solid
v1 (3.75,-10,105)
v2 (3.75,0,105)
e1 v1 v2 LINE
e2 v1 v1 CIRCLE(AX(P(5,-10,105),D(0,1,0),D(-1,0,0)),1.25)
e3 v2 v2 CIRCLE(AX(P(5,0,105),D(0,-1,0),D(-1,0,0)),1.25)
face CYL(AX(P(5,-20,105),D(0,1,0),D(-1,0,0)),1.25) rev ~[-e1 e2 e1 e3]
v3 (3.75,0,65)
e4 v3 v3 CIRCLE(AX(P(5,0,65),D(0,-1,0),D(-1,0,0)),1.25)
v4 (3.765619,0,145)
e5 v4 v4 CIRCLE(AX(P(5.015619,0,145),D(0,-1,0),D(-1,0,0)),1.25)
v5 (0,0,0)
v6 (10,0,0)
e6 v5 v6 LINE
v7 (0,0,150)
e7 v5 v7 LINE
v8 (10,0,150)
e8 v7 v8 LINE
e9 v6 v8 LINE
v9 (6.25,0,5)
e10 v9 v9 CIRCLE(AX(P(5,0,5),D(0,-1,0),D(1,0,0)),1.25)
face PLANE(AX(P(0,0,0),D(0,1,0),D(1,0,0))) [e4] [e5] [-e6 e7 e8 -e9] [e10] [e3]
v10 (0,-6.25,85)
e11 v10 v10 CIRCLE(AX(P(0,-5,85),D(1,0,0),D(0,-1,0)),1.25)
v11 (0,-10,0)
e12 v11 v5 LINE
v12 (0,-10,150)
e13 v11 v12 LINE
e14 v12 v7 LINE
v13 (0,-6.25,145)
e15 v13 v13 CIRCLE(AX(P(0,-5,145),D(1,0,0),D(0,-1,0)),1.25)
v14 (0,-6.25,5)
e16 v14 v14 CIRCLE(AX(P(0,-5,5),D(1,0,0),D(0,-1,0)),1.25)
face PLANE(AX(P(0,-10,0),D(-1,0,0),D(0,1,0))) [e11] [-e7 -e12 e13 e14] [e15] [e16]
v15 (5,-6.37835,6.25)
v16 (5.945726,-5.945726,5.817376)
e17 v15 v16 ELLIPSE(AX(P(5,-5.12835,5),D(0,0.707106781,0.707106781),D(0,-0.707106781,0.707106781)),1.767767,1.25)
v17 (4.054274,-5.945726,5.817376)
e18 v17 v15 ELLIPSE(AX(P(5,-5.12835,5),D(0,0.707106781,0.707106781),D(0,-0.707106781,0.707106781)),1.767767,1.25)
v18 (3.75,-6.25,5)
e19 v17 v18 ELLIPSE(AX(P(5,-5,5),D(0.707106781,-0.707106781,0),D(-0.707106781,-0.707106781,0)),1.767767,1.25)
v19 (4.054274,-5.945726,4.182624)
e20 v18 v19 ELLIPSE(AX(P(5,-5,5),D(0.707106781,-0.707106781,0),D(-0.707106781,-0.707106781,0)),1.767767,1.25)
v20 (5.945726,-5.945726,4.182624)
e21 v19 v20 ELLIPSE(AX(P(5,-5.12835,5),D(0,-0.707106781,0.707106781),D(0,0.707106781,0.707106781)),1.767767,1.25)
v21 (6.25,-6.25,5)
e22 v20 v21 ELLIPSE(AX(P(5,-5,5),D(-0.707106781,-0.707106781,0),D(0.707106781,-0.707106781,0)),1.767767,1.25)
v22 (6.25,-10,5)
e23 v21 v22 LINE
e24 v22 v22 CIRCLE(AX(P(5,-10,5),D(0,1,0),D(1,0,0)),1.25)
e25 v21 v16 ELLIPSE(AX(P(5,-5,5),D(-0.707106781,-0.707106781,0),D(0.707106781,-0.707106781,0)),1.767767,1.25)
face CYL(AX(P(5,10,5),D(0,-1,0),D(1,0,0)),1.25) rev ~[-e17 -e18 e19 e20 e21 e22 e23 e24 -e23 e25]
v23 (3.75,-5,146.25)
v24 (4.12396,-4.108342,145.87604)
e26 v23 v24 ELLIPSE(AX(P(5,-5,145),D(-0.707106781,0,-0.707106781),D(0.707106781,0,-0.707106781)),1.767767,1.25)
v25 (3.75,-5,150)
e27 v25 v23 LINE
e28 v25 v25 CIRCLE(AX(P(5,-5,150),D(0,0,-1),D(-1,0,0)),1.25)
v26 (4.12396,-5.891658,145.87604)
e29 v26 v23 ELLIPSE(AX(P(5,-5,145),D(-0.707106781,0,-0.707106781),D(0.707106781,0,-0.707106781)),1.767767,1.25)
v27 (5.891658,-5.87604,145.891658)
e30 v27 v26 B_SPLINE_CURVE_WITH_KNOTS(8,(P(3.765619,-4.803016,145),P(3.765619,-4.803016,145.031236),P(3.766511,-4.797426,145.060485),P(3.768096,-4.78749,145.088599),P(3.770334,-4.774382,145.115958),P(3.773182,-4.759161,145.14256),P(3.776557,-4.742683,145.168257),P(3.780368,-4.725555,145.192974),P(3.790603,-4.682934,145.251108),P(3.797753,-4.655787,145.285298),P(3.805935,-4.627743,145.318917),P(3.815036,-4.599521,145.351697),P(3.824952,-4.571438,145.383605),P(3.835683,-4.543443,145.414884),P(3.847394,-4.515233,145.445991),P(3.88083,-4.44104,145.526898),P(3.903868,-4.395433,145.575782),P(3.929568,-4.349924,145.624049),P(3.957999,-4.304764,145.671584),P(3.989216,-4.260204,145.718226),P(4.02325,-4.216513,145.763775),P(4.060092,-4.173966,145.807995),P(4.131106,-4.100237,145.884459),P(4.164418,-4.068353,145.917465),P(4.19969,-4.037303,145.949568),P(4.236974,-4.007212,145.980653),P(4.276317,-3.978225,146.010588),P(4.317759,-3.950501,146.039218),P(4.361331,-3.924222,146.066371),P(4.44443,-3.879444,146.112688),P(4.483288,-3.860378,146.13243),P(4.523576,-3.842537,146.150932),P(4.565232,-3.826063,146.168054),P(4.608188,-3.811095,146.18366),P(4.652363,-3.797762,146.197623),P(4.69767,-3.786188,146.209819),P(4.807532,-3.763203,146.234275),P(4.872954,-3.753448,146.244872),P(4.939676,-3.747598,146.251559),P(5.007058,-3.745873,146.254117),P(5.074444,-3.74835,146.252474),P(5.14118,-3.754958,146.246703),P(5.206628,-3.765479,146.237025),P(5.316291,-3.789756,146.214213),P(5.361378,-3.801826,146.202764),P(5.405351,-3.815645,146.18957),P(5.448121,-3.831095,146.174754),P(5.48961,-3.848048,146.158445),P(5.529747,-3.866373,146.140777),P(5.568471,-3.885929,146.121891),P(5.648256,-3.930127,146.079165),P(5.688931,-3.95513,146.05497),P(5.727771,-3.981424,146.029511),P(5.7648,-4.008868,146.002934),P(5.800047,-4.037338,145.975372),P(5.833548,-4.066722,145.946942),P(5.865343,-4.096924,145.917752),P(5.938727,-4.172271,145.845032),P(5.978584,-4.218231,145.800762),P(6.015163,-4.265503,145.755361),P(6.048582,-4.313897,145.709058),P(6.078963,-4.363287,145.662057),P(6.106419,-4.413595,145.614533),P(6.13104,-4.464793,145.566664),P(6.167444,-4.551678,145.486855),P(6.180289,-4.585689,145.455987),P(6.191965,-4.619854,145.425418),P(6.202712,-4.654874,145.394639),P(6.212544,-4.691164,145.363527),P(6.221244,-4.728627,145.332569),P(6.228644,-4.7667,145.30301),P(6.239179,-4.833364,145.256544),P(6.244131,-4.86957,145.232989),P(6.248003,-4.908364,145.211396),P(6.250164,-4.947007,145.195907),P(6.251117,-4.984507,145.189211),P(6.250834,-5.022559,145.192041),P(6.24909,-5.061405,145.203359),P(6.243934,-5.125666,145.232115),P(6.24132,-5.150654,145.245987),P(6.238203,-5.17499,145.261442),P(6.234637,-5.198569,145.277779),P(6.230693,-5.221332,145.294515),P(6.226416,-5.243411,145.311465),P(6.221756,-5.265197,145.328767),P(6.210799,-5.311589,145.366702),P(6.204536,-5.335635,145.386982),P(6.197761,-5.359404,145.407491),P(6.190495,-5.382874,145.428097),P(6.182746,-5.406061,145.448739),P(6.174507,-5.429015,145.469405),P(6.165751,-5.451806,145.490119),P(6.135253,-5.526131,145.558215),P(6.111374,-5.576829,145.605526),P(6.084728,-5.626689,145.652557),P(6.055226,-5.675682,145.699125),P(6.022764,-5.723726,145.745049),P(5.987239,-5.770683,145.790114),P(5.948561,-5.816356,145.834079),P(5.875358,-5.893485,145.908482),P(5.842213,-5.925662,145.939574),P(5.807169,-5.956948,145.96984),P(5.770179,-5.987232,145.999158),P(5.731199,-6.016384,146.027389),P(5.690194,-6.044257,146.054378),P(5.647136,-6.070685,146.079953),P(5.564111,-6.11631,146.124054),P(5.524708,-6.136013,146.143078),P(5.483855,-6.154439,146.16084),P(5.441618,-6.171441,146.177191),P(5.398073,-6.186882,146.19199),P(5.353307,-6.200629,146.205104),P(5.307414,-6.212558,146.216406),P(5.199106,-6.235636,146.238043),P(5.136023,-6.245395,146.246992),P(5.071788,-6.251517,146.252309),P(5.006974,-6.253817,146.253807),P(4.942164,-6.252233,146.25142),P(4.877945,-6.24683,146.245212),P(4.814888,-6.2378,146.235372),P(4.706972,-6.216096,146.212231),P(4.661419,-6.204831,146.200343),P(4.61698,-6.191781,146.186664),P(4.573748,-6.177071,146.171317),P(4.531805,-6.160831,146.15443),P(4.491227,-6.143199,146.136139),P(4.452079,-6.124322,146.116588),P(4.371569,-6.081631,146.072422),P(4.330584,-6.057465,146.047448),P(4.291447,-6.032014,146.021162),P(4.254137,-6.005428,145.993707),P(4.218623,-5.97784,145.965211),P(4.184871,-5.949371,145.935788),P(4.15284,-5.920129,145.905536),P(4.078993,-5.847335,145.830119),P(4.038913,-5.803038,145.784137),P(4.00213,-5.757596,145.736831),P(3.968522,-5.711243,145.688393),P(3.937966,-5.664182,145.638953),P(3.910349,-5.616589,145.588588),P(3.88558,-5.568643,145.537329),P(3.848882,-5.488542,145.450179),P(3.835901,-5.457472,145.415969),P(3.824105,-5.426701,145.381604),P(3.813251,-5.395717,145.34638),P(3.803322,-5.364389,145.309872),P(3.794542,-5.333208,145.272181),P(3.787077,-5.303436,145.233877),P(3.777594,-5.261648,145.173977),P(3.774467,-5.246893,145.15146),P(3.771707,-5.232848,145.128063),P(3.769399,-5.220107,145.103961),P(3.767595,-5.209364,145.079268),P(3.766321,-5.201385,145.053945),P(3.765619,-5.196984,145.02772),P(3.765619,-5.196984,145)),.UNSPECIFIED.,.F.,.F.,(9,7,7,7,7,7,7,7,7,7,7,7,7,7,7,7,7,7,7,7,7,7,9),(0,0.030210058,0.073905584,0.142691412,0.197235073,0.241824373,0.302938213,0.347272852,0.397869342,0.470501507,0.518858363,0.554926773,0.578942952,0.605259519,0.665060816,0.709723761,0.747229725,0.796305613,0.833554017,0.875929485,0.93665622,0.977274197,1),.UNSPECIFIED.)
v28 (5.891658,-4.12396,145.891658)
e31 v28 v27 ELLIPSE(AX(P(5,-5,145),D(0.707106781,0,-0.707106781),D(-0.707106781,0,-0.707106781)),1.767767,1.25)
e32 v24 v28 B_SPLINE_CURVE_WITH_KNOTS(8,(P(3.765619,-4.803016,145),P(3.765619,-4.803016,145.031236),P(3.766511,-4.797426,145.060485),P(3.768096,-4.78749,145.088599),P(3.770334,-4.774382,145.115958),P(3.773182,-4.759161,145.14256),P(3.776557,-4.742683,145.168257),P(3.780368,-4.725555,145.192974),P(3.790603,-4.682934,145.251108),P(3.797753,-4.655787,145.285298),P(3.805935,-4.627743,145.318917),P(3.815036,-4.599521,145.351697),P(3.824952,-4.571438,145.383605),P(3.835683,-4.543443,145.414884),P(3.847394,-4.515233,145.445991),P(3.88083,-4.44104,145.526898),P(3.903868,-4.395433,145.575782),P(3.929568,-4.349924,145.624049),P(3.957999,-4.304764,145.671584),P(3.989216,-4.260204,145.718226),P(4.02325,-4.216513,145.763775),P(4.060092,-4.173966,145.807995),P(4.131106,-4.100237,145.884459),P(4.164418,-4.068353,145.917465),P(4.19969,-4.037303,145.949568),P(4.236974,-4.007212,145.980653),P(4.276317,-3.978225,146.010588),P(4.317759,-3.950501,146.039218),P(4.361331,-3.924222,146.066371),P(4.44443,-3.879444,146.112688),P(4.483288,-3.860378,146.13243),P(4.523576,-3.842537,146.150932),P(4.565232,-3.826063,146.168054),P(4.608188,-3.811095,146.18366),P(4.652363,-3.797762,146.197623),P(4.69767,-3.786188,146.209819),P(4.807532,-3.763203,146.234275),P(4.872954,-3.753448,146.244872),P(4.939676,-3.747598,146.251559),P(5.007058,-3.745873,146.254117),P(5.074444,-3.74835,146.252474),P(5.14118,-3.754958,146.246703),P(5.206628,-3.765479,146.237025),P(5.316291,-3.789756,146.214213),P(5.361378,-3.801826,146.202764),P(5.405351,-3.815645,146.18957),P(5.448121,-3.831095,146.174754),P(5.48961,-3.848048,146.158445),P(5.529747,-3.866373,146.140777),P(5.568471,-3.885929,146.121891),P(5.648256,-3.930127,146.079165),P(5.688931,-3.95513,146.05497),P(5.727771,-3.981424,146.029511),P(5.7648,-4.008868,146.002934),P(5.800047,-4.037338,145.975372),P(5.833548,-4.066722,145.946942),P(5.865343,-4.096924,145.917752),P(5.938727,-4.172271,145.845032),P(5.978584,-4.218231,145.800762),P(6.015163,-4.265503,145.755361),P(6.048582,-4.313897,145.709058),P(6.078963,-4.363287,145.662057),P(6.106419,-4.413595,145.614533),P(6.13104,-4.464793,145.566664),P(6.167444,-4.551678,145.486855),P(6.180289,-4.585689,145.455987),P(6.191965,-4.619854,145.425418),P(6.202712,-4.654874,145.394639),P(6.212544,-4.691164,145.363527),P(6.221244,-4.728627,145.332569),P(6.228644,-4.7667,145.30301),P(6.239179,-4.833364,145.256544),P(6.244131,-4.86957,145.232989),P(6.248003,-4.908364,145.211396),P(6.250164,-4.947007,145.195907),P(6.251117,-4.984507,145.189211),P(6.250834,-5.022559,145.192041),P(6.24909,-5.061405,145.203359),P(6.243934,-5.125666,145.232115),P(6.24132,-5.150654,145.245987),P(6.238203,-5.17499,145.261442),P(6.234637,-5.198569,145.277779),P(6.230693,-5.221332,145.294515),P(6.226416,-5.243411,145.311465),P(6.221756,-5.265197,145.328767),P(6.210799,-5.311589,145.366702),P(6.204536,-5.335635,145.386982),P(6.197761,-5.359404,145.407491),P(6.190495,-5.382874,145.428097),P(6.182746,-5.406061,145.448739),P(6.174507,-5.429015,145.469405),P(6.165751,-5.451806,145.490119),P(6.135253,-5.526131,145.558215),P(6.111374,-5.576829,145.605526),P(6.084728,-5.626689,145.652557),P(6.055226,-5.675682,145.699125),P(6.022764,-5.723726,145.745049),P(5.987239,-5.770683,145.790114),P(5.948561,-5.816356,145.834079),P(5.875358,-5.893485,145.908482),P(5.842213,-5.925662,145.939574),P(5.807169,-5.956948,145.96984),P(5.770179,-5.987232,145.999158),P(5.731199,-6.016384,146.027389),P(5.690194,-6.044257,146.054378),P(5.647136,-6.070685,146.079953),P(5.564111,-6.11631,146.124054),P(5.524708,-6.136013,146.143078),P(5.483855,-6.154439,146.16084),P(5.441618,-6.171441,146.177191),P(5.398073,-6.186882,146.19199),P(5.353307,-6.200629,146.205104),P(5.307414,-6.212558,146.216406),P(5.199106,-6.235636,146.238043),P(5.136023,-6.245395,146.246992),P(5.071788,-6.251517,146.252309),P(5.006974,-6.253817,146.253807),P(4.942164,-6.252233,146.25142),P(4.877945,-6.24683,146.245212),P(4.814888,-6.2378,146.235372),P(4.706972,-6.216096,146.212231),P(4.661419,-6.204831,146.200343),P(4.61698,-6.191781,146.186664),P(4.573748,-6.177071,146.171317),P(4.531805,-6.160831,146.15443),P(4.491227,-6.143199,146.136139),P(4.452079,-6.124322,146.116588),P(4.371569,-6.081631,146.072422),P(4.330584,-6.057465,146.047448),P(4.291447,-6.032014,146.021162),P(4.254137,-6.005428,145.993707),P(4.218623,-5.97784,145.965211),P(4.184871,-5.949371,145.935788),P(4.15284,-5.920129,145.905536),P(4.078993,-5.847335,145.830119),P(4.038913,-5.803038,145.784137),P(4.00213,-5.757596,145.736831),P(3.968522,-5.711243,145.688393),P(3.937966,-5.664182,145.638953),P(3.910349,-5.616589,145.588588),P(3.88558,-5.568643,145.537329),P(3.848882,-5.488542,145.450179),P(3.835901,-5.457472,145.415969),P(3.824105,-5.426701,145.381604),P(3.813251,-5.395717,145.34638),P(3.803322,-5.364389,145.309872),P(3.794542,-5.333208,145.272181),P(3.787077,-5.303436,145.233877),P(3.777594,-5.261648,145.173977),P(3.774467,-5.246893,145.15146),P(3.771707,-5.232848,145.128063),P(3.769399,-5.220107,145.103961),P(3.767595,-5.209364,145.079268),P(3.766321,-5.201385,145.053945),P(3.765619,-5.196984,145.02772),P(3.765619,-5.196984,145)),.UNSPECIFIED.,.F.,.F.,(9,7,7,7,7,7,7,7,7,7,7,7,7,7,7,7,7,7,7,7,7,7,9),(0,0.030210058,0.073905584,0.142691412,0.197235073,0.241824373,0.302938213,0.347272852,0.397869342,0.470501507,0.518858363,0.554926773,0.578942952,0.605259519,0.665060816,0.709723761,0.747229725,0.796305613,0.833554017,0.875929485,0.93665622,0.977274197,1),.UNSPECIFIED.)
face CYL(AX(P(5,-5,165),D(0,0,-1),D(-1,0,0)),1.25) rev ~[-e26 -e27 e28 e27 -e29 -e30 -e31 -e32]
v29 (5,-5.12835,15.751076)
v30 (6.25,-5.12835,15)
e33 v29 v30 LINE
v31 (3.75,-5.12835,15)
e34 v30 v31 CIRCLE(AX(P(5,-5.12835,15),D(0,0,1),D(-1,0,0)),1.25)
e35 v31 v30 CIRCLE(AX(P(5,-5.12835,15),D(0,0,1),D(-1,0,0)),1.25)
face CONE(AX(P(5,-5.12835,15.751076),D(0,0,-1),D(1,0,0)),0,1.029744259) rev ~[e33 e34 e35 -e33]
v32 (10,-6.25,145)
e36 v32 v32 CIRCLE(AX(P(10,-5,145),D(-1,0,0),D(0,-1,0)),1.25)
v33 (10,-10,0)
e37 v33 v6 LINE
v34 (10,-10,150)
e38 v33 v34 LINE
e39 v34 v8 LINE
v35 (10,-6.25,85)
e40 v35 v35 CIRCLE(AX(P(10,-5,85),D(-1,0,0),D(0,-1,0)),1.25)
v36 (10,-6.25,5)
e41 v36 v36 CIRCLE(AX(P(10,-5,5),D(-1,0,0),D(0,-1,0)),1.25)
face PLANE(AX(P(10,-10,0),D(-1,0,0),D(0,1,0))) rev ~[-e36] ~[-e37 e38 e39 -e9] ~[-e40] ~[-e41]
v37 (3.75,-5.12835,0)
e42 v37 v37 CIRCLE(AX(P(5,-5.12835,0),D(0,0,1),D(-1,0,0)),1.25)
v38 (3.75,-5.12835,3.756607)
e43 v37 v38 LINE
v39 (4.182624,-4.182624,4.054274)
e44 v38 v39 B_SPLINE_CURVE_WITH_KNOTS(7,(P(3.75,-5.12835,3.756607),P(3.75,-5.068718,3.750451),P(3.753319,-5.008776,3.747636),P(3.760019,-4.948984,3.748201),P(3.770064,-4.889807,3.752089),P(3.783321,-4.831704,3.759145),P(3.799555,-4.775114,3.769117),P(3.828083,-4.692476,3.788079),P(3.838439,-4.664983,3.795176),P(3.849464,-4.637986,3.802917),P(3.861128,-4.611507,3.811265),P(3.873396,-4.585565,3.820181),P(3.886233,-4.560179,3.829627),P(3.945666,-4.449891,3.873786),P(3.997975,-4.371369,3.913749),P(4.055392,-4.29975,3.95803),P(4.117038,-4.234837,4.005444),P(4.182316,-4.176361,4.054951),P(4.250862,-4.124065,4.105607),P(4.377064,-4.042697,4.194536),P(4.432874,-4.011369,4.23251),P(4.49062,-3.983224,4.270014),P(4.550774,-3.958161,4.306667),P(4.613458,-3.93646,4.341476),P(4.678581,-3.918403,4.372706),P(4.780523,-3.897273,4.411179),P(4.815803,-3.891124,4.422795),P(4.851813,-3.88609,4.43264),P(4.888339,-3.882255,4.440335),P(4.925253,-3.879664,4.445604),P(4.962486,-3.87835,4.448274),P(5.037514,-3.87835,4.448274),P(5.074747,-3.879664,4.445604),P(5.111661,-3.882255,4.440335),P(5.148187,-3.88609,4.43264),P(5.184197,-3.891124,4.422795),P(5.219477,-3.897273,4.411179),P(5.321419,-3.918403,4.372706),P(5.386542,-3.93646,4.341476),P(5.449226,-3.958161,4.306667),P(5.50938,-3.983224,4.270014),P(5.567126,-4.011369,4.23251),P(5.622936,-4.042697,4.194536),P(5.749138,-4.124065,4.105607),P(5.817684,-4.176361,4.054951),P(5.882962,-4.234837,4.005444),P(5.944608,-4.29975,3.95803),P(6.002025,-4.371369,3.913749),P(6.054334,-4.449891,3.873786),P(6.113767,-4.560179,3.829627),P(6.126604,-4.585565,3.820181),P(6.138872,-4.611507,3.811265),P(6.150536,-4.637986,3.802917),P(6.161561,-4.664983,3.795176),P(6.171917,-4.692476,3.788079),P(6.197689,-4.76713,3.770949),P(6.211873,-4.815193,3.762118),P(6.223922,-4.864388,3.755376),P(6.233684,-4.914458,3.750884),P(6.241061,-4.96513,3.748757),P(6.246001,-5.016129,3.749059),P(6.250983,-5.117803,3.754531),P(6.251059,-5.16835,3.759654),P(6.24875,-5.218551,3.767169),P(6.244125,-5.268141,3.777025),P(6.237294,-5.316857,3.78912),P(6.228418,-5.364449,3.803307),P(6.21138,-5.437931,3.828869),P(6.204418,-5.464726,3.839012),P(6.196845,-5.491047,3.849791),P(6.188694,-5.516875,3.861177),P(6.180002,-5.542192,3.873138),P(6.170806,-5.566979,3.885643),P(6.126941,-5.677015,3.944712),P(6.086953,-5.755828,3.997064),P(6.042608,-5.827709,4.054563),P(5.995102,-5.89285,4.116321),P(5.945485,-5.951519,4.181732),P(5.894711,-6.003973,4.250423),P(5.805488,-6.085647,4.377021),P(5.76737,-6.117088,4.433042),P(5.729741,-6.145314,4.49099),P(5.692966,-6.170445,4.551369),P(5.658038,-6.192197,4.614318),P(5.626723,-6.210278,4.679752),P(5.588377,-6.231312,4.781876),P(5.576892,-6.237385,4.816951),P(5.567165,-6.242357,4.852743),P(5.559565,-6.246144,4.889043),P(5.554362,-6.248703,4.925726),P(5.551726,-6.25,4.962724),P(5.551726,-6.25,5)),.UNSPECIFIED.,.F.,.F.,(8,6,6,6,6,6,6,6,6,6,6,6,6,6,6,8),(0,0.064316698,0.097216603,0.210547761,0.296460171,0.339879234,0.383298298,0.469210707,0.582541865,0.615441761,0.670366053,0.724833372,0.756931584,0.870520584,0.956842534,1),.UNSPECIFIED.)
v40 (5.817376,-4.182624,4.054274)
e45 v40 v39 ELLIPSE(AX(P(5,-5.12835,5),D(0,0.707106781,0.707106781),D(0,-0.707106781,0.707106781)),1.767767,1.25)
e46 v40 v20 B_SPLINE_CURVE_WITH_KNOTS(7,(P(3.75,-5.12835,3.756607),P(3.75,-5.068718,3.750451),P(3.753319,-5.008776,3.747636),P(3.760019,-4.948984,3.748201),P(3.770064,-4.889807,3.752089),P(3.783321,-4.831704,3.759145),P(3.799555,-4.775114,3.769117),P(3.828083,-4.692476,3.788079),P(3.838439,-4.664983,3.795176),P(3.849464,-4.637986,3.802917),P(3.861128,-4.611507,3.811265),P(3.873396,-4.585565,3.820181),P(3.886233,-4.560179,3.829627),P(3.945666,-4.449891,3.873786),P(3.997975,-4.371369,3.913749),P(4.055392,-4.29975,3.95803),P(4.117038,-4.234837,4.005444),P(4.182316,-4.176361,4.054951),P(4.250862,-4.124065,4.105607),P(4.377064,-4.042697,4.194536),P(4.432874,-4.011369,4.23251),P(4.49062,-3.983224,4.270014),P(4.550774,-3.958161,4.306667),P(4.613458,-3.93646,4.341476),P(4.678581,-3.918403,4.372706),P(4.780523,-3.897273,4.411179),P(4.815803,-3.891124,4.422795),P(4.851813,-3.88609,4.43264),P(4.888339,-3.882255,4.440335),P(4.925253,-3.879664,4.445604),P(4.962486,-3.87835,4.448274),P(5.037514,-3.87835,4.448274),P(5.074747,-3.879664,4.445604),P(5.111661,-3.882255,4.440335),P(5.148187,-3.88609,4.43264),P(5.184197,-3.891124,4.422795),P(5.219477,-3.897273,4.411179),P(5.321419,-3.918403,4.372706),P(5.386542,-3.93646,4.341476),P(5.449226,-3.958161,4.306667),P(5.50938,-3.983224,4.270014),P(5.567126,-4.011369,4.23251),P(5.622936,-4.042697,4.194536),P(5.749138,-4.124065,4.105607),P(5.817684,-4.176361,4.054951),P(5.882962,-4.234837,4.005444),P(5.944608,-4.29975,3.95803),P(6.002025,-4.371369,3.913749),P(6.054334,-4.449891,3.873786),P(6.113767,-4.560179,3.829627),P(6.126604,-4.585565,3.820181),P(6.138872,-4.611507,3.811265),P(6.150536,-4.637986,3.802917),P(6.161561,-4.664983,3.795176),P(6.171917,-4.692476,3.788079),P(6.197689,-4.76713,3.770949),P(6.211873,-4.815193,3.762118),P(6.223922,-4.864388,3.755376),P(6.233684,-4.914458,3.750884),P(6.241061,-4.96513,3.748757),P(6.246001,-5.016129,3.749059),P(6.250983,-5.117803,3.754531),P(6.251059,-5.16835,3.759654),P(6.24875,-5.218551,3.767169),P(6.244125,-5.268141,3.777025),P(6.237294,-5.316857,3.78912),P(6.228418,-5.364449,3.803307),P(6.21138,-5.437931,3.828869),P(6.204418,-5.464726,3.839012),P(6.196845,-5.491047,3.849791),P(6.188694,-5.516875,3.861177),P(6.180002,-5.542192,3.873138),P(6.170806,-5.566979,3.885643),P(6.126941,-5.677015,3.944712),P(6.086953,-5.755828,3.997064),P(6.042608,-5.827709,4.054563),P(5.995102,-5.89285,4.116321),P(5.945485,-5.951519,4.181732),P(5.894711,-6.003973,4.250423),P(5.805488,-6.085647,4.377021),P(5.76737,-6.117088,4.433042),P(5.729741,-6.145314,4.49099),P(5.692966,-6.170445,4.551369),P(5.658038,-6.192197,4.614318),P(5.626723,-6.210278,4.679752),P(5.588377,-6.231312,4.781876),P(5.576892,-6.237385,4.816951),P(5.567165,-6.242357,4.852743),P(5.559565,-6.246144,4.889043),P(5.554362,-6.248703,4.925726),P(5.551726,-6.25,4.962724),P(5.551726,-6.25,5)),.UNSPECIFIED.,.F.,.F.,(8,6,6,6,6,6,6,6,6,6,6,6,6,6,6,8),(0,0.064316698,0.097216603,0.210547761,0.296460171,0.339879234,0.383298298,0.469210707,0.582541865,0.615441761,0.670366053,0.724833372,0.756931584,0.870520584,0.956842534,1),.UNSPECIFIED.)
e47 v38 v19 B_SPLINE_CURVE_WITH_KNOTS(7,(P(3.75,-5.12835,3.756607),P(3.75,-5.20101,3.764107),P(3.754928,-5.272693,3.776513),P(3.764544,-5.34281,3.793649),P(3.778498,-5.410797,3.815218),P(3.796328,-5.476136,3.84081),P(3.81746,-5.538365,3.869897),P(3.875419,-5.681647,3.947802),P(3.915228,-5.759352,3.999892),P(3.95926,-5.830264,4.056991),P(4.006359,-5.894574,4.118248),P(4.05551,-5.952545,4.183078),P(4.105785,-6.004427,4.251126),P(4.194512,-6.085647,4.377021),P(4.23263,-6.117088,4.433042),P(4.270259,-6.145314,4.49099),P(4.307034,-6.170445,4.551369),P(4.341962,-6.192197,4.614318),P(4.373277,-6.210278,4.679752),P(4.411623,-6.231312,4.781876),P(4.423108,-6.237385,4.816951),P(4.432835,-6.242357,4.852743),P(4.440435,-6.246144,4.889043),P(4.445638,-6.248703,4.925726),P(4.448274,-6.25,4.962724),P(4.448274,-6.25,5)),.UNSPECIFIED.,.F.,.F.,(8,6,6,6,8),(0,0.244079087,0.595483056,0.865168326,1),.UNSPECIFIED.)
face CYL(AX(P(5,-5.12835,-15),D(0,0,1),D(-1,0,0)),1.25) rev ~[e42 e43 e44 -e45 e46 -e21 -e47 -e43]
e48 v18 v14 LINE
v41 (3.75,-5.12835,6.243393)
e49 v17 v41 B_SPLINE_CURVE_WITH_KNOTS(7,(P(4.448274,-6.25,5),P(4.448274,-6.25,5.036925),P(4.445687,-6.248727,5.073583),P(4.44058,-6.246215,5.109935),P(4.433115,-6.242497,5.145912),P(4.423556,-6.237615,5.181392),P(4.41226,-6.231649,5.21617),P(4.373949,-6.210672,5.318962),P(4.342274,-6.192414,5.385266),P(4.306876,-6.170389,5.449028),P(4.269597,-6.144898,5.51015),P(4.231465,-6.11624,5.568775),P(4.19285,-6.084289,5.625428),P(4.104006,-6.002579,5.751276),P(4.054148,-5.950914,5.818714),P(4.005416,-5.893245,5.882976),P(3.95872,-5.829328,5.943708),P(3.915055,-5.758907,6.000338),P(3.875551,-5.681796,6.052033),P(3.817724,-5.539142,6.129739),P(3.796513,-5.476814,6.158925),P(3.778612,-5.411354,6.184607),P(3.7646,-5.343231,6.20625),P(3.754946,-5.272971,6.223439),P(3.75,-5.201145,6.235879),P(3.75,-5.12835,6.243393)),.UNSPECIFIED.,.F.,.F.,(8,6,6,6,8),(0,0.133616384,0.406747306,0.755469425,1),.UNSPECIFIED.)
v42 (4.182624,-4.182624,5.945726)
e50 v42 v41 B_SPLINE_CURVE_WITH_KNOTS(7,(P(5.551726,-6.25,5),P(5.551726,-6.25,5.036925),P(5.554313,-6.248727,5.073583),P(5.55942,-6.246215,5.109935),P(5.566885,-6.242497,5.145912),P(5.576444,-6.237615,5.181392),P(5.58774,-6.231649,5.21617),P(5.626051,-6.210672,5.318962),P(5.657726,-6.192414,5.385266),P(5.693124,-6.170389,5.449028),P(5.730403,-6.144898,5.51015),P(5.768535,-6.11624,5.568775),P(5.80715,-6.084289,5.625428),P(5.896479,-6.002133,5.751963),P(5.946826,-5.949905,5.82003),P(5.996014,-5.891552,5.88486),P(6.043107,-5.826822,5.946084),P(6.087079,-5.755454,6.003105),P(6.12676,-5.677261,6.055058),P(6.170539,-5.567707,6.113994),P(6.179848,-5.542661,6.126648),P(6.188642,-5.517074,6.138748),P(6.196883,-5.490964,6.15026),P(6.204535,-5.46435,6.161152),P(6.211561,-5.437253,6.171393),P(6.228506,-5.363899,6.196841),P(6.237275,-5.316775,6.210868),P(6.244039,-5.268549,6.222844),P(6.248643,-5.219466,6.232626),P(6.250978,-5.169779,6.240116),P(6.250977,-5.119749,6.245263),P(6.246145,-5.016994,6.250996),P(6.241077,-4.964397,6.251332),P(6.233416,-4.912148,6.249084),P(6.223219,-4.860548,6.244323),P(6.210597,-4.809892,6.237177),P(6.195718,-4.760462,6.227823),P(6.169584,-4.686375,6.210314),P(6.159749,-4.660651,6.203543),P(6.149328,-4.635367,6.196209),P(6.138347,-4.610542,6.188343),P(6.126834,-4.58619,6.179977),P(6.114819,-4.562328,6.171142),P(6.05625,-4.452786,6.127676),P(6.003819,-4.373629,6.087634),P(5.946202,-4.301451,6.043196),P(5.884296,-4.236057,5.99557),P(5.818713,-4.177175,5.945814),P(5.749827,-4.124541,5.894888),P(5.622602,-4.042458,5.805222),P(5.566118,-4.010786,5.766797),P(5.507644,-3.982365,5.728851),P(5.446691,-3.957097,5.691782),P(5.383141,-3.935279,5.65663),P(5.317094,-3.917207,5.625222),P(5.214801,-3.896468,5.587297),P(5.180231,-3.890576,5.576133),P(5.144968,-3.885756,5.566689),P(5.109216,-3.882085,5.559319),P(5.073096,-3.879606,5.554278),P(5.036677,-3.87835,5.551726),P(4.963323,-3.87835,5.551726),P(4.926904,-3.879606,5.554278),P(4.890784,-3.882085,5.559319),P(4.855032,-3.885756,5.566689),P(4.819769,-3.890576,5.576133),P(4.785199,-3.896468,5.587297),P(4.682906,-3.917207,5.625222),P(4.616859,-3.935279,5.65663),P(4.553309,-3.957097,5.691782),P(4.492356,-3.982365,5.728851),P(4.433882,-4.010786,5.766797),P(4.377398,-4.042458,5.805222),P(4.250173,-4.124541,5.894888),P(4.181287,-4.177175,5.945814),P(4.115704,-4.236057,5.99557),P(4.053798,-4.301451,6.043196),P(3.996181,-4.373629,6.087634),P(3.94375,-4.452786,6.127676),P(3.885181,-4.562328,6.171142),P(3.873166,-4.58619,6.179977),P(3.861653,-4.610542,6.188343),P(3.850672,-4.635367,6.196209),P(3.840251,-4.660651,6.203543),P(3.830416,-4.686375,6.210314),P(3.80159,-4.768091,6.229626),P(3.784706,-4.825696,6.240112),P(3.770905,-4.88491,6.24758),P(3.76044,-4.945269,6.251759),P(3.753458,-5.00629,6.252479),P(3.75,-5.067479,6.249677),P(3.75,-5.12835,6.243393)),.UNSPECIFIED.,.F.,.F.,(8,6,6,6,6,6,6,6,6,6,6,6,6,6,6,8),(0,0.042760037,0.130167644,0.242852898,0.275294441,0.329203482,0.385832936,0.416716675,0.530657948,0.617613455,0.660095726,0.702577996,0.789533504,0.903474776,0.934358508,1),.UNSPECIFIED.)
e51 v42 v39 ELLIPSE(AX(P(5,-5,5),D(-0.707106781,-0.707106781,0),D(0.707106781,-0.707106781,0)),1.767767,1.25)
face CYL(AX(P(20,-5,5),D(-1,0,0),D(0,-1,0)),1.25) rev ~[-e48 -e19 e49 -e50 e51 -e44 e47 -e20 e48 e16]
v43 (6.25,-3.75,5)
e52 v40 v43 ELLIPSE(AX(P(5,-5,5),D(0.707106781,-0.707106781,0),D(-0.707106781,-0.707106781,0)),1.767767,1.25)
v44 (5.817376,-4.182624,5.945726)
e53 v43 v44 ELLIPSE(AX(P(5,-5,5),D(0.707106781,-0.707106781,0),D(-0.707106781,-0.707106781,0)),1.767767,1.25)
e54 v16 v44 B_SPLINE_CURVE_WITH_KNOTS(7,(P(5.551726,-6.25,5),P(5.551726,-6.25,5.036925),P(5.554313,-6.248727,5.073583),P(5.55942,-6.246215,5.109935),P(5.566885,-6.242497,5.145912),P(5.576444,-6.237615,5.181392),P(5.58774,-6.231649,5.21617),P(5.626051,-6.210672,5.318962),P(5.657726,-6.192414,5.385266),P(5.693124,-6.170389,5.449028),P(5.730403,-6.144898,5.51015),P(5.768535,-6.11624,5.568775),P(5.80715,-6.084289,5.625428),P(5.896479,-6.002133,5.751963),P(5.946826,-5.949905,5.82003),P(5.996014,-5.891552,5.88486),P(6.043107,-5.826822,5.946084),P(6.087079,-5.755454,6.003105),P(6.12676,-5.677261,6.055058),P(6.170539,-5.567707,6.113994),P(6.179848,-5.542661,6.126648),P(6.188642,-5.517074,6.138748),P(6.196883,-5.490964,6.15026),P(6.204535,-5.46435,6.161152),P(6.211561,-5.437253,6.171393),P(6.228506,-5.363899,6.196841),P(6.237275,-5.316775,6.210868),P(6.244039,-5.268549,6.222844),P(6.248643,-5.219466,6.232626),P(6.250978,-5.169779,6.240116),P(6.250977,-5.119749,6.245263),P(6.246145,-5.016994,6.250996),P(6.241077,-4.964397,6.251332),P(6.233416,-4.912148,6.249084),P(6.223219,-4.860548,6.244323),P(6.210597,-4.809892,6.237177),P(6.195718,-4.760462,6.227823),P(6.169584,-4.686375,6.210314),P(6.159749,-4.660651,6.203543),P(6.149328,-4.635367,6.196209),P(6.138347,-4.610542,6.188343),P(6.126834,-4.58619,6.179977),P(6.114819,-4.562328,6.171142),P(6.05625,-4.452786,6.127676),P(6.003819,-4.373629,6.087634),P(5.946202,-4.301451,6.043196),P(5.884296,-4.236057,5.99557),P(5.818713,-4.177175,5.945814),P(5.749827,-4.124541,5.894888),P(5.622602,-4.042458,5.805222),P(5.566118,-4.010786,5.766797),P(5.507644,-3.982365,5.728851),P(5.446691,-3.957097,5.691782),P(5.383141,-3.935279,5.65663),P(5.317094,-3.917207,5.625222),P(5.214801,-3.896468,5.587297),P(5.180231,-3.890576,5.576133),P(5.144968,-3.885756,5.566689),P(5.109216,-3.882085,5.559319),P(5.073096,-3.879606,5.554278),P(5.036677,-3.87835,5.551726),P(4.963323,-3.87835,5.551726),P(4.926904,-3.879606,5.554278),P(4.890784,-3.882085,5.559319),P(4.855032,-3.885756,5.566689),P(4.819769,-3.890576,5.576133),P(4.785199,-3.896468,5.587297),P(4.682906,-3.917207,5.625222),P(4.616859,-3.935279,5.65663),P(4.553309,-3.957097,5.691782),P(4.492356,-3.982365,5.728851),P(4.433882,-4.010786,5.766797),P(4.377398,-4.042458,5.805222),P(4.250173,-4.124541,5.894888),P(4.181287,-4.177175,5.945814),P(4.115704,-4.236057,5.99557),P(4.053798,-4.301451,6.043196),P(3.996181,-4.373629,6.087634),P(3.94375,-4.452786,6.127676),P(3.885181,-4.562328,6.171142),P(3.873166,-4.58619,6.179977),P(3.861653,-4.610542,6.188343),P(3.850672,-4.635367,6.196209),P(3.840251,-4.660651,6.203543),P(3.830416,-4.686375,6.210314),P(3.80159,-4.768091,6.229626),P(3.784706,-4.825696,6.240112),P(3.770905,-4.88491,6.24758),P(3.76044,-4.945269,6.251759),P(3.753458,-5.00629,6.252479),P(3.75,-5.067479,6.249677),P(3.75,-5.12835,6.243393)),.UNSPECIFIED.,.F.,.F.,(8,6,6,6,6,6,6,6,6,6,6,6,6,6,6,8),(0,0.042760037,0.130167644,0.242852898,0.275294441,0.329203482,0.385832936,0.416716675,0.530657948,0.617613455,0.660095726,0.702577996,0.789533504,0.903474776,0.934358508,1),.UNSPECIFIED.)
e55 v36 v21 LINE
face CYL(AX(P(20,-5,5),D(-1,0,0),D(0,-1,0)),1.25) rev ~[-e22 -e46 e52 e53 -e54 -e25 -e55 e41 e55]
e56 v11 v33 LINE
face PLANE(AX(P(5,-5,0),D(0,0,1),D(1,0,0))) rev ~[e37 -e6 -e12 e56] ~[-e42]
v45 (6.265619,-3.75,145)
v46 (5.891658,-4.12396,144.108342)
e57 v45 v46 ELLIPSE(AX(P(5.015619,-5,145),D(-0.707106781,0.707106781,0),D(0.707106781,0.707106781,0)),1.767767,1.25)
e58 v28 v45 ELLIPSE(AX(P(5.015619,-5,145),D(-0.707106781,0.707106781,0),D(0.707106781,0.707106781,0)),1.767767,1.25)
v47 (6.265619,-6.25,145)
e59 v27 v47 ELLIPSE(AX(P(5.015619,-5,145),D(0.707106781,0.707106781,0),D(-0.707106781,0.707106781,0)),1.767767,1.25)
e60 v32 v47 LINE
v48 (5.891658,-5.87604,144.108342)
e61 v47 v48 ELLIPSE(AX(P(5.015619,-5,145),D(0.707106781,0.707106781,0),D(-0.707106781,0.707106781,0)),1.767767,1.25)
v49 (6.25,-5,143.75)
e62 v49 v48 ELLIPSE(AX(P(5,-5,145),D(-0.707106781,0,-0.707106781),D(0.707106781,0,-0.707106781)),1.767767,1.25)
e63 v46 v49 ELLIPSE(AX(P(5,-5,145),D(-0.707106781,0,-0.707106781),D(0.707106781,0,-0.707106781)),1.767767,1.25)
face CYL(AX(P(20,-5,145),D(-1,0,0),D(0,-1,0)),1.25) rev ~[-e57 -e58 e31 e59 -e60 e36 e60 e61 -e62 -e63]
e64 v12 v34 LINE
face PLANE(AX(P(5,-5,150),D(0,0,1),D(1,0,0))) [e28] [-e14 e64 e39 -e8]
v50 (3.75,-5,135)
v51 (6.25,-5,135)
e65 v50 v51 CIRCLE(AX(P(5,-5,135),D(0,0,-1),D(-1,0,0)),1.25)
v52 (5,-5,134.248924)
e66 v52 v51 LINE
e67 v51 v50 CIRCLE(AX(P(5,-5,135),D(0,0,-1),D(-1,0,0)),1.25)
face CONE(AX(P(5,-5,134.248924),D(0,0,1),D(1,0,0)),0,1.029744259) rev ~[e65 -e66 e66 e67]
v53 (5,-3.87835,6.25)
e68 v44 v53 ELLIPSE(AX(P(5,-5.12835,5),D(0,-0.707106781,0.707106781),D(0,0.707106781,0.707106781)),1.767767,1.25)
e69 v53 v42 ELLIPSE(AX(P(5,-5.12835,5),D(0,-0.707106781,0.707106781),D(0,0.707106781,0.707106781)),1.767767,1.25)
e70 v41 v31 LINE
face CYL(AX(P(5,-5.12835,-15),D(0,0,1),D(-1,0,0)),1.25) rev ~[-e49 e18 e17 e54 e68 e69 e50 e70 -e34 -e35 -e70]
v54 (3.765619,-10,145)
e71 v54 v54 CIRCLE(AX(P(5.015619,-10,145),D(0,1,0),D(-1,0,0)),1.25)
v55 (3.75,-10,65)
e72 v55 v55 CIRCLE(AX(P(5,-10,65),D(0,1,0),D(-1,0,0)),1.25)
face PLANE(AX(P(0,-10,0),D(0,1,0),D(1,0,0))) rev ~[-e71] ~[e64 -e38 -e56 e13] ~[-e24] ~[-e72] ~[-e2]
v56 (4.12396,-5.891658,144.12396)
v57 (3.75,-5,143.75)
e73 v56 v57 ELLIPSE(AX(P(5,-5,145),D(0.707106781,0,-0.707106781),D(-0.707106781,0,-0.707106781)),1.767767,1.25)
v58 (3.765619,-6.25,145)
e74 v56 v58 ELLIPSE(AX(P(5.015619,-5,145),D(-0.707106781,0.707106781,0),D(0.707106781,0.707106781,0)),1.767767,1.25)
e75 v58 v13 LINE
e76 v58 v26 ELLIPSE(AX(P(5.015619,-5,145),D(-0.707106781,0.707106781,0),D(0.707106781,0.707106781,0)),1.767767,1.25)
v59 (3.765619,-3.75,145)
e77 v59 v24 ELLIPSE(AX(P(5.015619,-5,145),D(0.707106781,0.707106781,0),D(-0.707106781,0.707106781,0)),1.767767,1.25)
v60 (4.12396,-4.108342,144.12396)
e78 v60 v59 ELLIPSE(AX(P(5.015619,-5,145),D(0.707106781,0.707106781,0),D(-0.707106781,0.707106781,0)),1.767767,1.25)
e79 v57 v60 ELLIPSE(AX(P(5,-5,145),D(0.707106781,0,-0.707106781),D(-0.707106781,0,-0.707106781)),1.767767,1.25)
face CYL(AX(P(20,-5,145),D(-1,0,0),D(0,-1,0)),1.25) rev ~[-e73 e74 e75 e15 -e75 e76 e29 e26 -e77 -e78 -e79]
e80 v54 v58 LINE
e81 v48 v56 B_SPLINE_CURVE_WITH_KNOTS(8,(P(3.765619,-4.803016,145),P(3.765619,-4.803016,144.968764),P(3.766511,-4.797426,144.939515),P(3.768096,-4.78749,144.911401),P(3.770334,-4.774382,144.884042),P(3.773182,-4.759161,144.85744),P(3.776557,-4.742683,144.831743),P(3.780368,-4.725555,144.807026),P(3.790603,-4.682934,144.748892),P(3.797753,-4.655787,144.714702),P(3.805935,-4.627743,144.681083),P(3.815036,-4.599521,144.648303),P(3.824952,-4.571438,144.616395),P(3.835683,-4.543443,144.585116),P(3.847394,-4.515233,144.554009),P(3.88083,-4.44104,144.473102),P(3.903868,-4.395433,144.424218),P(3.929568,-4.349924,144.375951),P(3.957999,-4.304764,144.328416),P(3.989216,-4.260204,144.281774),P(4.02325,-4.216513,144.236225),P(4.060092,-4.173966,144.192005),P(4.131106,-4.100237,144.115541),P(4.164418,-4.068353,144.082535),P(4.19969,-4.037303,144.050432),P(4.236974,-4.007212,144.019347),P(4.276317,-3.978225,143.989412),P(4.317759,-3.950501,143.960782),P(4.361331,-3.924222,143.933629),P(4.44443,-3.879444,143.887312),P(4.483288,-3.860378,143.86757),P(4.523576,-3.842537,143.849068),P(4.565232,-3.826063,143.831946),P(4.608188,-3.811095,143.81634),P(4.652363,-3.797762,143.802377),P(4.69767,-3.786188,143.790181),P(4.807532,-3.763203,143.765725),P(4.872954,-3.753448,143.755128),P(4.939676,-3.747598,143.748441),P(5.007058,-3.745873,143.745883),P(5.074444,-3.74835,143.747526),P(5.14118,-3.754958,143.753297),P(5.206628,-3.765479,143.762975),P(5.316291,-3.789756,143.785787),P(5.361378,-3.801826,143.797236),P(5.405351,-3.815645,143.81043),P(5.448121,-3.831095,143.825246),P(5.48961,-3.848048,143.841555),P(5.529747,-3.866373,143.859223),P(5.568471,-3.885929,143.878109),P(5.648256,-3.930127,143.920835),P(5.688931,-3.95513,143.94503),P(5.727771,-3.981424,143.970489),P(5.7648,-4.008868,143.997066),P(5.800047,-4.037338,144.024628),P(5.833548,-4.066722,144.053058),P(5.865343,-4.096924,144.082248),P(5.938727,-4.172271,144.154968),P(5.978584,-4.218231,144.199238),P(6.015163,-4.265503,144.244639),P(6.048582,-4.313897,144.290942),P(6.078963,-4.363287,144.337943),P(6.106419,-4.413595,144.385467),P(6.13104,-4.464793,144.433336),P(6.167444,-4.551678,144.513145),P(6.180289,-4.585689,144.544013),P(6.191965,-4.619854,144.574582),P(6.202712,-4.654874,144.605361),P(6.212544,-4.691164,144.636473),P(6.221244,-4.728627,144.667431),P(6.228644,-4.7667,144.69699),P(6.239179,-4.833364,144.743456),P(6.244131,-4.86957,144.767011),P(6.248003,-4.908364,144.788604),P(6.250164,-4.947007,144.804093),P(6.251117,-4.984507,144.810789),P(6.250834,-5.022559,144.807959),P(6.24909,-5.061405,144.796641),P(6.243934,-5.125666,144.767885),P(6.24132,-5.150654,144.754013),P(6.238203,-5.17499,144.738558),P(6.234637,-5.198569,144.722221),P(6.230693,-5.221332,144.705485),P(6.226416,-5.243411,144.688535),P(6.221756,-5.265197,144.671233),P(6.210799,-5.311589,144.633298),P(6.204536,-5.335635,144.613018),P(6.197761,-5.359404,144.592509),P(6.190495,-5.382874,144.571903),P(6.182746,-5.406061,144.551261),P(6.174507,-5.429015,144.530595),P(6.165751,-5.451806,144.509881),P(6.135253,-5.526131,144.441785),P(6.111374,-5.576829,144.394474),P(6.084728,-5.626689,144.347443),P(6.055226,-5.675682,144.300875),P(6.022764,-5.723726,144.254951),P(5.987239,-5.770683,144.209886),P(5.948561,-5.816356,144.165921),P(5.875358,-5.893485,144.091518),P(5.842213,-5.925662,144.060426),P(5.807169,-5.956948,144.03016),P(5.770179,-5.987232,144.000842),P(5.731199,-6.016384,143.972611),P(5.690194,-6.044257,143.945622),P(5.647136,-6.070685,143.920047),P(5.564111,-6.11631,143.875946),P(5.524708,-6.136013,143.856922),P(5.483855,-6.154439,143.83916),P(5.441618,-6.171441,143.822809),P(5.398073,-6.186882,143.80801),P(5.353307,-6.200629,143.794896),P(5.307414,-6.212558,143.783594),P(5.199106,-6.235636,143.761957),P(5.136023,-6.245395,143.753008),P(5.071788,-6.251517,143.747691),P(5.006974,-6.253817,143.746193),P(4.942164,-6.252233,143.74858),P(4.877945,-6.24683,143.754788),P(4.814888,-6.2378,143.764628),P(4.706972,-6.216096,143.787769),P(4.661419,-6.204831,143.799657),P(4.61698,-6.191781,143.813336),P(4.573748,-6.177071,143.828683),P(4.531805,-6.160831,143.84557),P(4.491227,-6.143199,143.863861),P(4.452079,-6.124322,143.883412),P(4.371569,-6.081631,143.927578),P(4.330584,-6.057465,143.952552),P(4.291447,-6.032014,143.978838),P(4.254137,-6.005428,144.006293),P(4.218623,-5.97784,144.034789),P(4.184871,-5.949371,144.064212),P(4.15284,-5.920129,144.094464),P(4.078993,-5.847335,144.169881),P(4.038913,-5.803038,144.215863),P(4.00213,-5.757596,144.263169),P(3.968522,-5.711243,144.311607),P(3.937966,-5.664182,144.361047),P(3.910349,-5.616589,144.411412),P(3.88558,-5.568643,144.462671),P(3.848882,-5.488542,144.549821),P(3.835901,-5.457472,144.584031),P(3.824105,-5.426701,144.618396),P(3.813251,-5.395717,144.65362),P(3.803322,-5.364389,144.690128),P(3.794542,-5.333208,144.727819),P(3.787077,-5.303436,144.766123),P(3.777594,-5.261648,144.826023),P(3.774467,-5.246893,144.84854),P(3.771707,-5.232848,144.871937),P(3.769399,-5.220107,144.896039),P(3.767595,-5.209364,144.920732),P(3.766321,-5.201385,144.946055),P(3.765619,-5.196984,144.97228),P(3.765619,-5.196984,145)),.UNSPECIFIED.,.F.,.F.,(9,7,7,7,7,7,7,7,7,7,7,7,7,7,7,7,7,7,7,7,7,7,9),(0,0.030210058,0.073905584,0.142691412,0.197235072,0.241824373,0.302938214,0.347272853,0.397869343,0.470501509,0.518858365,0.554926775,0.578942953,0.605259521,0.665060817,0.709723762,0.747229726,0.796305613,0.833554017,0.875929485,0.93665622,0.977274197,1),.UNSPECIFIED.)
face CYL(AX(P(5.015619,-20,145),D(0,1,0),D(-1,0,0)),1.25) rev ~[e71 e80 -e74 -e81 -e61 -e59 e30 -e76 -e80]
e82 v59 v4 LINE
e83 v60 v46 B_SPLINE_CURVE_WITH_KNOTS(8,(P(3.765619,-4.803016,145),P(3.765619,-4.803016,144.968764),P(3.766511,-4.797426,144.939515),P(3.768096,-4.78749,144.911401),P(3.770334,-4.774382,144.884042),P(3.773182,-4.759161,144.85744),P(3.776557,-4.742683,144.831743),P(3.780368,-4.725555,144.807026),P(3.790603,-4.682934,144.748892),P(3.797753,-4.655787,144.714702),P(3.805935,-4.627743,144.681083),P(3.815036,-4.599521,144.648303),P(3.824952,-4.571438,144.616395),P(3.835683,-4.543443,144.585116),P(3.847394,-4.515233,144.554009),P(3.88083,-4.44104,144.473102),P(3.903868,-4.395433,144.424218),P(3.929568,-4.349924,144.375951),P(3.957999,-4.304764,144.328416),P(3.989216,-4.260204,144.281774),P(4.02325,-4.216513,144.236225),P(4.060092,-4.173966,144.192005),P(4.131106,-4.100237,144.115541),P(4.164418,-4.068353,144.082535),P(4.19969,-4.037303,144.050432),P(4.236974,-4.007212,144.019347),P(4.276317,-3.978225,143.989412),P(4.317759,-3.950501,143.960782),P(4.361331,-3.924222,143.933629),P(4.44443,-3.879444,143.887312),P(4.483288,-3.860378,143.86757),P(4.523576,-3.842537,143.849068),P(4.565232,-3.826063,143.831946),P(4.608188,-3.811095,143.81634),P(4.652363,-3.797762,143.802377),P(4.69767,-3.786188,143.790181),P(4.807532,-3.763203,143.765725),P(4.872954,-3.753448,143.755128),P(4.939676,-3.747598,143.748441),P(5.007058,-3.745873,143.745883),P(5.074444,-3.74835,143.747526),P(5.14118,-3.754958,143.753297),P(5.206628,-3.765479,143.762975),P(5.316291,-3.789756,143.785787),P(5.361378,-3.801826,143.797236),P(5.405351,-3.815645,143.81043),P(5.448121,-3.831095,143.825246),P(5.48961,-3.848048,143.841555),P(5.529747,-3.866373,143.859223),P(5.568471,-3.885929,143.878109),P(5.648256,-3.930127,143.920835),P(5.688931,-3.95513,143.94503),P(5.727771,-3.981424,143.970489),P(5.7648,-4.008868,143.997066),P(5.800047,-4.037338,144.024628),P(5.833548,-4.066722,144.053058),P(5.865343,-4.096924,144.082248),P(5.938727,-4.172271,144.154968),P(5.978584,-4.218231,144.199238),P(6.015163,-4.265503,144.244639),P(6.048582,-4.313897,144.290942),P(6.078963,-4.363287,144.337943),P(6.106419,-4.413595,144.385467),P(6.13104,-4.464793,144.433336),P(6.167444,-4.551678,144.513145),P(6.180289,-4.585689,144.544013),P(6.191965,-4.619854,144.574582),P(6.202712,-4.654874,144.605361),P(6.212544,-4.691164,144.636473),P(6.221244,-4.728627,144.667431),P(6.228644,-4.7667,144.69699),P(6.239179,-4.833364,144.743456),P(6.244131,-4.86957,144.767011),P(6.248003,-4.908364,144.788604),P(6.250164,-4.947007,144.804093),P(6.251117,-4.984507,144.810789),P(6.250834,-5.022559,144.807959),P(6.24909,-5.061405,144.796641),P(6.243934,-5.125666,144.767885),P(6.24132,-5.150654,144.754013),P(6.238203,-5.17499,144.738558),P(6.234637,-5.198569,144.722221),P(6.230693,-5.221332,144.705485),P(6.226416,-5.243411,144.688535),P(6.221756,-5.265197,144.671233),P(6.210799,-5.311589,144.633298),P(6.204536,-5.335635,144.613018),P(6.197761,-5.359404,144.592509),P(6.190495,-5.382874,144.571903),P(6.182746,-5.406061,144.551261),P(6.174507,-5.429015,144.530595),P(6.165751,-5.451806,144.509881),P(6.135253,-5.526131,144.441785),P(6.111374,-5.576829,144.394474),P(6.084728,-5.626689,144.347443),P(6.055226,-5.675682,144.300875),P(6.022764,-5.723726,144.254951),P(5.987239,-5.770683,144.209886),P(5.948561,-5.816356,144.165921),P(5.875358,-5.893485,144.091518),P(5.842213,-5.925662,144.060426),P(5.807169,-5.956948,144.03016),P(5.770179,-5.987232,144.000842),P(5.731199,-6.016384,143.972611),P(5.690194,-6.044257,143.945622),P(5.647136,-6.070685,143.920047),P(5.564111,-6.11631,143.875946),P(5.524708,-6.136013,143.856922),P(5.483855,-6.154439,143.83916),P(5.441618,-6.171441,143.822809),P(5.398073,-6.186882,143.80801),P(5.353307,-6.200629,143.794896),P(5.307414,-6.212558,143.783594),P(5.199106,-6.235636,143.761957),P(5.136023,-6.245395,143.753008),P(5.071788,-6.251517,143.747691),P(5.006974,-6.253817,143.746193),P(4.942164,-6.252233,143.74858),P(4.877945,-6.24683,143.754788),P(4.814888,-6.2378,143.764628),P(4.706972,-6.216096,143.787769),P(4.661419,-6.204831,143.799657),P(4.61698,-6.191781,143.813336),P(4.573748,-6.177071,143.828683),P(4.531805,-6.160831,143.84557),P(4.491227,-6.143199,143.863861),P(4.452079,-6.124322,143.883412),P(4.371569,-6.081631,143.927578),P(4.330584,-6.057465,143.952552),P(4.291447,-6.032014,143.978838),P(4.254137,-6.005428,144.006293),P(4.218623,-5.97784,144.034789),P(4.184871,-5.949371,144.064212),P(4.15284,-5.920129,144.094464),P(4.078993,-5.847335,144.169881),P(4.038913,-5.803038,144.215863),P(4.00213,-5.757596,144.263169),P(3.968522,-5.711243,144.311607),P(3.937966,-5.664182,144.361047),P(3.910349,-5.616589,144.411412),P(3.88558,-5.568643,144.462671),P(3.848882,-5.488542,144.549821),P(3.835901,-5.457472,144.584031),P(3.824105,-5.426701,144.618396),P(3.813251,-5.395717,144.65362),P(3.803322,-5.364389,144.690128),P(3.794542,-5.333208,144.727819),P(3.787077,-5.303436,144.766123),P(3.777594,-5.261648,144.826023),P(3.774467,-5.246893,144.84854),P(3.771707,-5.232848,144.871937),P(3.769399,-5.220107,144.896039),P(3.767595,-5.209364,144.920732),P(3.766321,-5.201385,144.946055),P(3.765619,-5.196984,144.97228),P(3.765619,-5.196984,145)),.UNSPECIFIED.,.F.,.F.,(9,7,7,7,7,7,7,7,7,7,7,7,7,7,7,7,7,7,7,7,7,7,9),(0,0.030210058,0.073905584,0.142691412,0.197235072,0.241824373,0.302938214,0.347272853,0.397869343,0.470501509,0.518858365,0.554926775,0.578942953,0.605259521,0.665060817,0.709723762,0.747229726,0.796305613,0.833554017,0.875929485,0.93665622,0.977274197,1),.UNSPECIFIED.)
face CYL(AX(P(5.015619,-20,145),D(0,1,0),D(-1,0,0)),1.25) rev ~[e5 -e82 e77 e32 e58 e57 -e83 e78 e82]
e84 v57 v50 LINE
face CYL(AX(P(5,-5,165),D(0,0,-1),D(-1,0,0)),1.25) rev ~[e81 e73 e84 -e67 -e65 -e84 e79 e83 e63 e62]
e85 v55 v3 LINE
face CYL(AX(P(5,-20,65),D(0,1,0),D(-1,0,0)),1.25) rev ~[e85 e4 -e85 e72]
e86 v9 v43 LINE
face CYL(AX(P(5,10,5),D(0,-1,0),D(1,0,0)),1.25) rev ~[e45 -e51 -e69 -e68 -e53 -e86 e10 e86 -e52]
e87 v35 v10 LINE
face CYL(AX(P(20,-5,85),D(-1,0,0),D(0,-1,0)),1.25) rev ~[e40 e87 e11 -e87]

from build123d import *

# Parameters (mm, degrees)
F0_W      = 10
F0_H      = 10
F1_DEPTH  = 150
F3_D      = 2.5
F3_DEPTH  = 15
F3_TIP    = 0.7510757738
F5_D      = 2.5
F5_DEPTH  = 15
F5_TIP    = 0.7510757738
F7_D      = 2.5
F7_DEPTH  = 10
F7_TIP    = 0.7510757738
F9_D      = 2.5
F9_DEPTH  = 10
F9_TIP    = 0.7510757738
F11_D     = 2.5
F11_DEPTH = 10
F11_TIP   = 0.7510757738
F13_D     = 2.5
F13_DEPTH = 10
F13_TIP   = 0.7510757738
F15_D     = 2.5
F15_DEPTH = 10
F15_TIP   = 0.7510757738
F17_D     = 2.5
F17_DEPTH = 10
F17_TIP   = 0.7510757738
F19_D     = 2.5
F19_DEPTH = 10
F19_TIP   = 0.7510757738


with BuildPart() as f1:
    # F0 (on Top) → F1 (new body)
    with BuildSketch(Plane.XY):
        with Locations((5, -5)):
            Rectangle(F0_W, F0_H)
    extrude(amount=F1_DEPTH)

    # F3
    with Locations(Plane.XY.offset(150)):
        with Locations((5, -5)):
            Hole(F3_D / 2, depth=F3_DEPTH)
            with Locations((0, 0, -(F3_DEPTH + F3_TIP / 2))):  # 118° drill point
                Cone(0, F3_D / 2, F3_TIP, mode=Mode.SUBTRACT)

    # F5
    with Locations(Plane(origin=(0, 0, 0), x_dir=(1, 0, 0), z_dir=(0, 0, -1))):
        with Locations((5, 5.128350097)):
            Hole(F5_D / 2, depth=F5_DEPTH)
            with Locations((0, 0, -(F5_DEPTH + F5_TIP / 2))):  # 118° drill point
                Cone(0, F5_D / 2, F5_TIP, mode=Mode.SUBTRACT)

    # F7
    with Locations(Plane(origin=(0, 0, 0), x_dir=(-1, 0, 0), z_dir=(0, 1, 0))):
        with Locations((-5, 5)):
            Hole(F7_D / 2, depth=F7_DEPTH)
            with Locations((0, 0, -(F7_DEPTH + F7_TIP / 2))):  # 118° drill point
                Cone(0, F7_D / 2, F7_TIP, mode=Mode.SUBTRACT)

    # F9
    with Locations(Plane.XZ.offset(10)):
        with Locations((5.0156186335, 145)):
            Hole(F9_D / 2, depth=F9_DEPTH)
            with Locations((0, 0, -(F9_DEPTH + F9_TIP / 2))):  # 118° drill point
                Cone(0, F9_D / 2, F9_TIP, mode=Mode.SUBTRACT)

    # F11
    with Locations(Plane.XZ.offset(10)):
        with Locations((5, 65)):
            Hole(F11_D / 2, depth=F11_DEPTH)
            with Locations((0, 0, -(F11_DEPTH + F11_TIP / 2))):  # 118° drill point
                Cone(0, F11_D / 2, F11_TIP, mode=Mode.SUBTRACT)

    # F13
    with Locations(Plane.XZ.offset(10)):
        with Locations((5, 105)):
            Hole(F13_D / 2, depth=F13_DEPTH)
            with Locations((0, 0, -(F13_DEPTH + F13_TIP / 2))):  # 118° drill point
                Cone(0, F13_D / 2, F13_TIP, mode=Mode.SUBTRACT)

    # F15
    with Locations(Plane.YZ.offset(10)):
        with Locations((-5, 145)):
            Hole(F15_D / 2, depth=F15_DEPTH)
            with Locations((0, 0, -(F15_DEPTH + F15_TIP / 2))):  # 118° drill point
                Cone(0, F15_D / 2, F15_TIP, mode=Mode.SUBTRACT)

    # F17
    with Locations(Plane.YZ.offset(10)):
        with Locations((-5, 5)):
            Hole(F17_D / 2, depth=F17_DEPTH)
            with Locations((0, 0, -(F17_DEPTH + F17_TIP / 2))):  # 118° drill point
                Cone(0, F17_D / 2, F17_TIP, mode=Mode.SUBTRACT)

    # F19
    with Locations(Plane.YZ.offset(10)):
        with Locations((-5, 85)):
            Hole(F19_D / 2, depth=F19_DEPTH)
            with Locations((0, 0, -(F19_DEPTH + F19_TIP / 2))):  # 118° drill point
                Cone(0, F19_D / 2, F19_TIP, mode=Mode.SUBTRACT)


solid = f1.part
